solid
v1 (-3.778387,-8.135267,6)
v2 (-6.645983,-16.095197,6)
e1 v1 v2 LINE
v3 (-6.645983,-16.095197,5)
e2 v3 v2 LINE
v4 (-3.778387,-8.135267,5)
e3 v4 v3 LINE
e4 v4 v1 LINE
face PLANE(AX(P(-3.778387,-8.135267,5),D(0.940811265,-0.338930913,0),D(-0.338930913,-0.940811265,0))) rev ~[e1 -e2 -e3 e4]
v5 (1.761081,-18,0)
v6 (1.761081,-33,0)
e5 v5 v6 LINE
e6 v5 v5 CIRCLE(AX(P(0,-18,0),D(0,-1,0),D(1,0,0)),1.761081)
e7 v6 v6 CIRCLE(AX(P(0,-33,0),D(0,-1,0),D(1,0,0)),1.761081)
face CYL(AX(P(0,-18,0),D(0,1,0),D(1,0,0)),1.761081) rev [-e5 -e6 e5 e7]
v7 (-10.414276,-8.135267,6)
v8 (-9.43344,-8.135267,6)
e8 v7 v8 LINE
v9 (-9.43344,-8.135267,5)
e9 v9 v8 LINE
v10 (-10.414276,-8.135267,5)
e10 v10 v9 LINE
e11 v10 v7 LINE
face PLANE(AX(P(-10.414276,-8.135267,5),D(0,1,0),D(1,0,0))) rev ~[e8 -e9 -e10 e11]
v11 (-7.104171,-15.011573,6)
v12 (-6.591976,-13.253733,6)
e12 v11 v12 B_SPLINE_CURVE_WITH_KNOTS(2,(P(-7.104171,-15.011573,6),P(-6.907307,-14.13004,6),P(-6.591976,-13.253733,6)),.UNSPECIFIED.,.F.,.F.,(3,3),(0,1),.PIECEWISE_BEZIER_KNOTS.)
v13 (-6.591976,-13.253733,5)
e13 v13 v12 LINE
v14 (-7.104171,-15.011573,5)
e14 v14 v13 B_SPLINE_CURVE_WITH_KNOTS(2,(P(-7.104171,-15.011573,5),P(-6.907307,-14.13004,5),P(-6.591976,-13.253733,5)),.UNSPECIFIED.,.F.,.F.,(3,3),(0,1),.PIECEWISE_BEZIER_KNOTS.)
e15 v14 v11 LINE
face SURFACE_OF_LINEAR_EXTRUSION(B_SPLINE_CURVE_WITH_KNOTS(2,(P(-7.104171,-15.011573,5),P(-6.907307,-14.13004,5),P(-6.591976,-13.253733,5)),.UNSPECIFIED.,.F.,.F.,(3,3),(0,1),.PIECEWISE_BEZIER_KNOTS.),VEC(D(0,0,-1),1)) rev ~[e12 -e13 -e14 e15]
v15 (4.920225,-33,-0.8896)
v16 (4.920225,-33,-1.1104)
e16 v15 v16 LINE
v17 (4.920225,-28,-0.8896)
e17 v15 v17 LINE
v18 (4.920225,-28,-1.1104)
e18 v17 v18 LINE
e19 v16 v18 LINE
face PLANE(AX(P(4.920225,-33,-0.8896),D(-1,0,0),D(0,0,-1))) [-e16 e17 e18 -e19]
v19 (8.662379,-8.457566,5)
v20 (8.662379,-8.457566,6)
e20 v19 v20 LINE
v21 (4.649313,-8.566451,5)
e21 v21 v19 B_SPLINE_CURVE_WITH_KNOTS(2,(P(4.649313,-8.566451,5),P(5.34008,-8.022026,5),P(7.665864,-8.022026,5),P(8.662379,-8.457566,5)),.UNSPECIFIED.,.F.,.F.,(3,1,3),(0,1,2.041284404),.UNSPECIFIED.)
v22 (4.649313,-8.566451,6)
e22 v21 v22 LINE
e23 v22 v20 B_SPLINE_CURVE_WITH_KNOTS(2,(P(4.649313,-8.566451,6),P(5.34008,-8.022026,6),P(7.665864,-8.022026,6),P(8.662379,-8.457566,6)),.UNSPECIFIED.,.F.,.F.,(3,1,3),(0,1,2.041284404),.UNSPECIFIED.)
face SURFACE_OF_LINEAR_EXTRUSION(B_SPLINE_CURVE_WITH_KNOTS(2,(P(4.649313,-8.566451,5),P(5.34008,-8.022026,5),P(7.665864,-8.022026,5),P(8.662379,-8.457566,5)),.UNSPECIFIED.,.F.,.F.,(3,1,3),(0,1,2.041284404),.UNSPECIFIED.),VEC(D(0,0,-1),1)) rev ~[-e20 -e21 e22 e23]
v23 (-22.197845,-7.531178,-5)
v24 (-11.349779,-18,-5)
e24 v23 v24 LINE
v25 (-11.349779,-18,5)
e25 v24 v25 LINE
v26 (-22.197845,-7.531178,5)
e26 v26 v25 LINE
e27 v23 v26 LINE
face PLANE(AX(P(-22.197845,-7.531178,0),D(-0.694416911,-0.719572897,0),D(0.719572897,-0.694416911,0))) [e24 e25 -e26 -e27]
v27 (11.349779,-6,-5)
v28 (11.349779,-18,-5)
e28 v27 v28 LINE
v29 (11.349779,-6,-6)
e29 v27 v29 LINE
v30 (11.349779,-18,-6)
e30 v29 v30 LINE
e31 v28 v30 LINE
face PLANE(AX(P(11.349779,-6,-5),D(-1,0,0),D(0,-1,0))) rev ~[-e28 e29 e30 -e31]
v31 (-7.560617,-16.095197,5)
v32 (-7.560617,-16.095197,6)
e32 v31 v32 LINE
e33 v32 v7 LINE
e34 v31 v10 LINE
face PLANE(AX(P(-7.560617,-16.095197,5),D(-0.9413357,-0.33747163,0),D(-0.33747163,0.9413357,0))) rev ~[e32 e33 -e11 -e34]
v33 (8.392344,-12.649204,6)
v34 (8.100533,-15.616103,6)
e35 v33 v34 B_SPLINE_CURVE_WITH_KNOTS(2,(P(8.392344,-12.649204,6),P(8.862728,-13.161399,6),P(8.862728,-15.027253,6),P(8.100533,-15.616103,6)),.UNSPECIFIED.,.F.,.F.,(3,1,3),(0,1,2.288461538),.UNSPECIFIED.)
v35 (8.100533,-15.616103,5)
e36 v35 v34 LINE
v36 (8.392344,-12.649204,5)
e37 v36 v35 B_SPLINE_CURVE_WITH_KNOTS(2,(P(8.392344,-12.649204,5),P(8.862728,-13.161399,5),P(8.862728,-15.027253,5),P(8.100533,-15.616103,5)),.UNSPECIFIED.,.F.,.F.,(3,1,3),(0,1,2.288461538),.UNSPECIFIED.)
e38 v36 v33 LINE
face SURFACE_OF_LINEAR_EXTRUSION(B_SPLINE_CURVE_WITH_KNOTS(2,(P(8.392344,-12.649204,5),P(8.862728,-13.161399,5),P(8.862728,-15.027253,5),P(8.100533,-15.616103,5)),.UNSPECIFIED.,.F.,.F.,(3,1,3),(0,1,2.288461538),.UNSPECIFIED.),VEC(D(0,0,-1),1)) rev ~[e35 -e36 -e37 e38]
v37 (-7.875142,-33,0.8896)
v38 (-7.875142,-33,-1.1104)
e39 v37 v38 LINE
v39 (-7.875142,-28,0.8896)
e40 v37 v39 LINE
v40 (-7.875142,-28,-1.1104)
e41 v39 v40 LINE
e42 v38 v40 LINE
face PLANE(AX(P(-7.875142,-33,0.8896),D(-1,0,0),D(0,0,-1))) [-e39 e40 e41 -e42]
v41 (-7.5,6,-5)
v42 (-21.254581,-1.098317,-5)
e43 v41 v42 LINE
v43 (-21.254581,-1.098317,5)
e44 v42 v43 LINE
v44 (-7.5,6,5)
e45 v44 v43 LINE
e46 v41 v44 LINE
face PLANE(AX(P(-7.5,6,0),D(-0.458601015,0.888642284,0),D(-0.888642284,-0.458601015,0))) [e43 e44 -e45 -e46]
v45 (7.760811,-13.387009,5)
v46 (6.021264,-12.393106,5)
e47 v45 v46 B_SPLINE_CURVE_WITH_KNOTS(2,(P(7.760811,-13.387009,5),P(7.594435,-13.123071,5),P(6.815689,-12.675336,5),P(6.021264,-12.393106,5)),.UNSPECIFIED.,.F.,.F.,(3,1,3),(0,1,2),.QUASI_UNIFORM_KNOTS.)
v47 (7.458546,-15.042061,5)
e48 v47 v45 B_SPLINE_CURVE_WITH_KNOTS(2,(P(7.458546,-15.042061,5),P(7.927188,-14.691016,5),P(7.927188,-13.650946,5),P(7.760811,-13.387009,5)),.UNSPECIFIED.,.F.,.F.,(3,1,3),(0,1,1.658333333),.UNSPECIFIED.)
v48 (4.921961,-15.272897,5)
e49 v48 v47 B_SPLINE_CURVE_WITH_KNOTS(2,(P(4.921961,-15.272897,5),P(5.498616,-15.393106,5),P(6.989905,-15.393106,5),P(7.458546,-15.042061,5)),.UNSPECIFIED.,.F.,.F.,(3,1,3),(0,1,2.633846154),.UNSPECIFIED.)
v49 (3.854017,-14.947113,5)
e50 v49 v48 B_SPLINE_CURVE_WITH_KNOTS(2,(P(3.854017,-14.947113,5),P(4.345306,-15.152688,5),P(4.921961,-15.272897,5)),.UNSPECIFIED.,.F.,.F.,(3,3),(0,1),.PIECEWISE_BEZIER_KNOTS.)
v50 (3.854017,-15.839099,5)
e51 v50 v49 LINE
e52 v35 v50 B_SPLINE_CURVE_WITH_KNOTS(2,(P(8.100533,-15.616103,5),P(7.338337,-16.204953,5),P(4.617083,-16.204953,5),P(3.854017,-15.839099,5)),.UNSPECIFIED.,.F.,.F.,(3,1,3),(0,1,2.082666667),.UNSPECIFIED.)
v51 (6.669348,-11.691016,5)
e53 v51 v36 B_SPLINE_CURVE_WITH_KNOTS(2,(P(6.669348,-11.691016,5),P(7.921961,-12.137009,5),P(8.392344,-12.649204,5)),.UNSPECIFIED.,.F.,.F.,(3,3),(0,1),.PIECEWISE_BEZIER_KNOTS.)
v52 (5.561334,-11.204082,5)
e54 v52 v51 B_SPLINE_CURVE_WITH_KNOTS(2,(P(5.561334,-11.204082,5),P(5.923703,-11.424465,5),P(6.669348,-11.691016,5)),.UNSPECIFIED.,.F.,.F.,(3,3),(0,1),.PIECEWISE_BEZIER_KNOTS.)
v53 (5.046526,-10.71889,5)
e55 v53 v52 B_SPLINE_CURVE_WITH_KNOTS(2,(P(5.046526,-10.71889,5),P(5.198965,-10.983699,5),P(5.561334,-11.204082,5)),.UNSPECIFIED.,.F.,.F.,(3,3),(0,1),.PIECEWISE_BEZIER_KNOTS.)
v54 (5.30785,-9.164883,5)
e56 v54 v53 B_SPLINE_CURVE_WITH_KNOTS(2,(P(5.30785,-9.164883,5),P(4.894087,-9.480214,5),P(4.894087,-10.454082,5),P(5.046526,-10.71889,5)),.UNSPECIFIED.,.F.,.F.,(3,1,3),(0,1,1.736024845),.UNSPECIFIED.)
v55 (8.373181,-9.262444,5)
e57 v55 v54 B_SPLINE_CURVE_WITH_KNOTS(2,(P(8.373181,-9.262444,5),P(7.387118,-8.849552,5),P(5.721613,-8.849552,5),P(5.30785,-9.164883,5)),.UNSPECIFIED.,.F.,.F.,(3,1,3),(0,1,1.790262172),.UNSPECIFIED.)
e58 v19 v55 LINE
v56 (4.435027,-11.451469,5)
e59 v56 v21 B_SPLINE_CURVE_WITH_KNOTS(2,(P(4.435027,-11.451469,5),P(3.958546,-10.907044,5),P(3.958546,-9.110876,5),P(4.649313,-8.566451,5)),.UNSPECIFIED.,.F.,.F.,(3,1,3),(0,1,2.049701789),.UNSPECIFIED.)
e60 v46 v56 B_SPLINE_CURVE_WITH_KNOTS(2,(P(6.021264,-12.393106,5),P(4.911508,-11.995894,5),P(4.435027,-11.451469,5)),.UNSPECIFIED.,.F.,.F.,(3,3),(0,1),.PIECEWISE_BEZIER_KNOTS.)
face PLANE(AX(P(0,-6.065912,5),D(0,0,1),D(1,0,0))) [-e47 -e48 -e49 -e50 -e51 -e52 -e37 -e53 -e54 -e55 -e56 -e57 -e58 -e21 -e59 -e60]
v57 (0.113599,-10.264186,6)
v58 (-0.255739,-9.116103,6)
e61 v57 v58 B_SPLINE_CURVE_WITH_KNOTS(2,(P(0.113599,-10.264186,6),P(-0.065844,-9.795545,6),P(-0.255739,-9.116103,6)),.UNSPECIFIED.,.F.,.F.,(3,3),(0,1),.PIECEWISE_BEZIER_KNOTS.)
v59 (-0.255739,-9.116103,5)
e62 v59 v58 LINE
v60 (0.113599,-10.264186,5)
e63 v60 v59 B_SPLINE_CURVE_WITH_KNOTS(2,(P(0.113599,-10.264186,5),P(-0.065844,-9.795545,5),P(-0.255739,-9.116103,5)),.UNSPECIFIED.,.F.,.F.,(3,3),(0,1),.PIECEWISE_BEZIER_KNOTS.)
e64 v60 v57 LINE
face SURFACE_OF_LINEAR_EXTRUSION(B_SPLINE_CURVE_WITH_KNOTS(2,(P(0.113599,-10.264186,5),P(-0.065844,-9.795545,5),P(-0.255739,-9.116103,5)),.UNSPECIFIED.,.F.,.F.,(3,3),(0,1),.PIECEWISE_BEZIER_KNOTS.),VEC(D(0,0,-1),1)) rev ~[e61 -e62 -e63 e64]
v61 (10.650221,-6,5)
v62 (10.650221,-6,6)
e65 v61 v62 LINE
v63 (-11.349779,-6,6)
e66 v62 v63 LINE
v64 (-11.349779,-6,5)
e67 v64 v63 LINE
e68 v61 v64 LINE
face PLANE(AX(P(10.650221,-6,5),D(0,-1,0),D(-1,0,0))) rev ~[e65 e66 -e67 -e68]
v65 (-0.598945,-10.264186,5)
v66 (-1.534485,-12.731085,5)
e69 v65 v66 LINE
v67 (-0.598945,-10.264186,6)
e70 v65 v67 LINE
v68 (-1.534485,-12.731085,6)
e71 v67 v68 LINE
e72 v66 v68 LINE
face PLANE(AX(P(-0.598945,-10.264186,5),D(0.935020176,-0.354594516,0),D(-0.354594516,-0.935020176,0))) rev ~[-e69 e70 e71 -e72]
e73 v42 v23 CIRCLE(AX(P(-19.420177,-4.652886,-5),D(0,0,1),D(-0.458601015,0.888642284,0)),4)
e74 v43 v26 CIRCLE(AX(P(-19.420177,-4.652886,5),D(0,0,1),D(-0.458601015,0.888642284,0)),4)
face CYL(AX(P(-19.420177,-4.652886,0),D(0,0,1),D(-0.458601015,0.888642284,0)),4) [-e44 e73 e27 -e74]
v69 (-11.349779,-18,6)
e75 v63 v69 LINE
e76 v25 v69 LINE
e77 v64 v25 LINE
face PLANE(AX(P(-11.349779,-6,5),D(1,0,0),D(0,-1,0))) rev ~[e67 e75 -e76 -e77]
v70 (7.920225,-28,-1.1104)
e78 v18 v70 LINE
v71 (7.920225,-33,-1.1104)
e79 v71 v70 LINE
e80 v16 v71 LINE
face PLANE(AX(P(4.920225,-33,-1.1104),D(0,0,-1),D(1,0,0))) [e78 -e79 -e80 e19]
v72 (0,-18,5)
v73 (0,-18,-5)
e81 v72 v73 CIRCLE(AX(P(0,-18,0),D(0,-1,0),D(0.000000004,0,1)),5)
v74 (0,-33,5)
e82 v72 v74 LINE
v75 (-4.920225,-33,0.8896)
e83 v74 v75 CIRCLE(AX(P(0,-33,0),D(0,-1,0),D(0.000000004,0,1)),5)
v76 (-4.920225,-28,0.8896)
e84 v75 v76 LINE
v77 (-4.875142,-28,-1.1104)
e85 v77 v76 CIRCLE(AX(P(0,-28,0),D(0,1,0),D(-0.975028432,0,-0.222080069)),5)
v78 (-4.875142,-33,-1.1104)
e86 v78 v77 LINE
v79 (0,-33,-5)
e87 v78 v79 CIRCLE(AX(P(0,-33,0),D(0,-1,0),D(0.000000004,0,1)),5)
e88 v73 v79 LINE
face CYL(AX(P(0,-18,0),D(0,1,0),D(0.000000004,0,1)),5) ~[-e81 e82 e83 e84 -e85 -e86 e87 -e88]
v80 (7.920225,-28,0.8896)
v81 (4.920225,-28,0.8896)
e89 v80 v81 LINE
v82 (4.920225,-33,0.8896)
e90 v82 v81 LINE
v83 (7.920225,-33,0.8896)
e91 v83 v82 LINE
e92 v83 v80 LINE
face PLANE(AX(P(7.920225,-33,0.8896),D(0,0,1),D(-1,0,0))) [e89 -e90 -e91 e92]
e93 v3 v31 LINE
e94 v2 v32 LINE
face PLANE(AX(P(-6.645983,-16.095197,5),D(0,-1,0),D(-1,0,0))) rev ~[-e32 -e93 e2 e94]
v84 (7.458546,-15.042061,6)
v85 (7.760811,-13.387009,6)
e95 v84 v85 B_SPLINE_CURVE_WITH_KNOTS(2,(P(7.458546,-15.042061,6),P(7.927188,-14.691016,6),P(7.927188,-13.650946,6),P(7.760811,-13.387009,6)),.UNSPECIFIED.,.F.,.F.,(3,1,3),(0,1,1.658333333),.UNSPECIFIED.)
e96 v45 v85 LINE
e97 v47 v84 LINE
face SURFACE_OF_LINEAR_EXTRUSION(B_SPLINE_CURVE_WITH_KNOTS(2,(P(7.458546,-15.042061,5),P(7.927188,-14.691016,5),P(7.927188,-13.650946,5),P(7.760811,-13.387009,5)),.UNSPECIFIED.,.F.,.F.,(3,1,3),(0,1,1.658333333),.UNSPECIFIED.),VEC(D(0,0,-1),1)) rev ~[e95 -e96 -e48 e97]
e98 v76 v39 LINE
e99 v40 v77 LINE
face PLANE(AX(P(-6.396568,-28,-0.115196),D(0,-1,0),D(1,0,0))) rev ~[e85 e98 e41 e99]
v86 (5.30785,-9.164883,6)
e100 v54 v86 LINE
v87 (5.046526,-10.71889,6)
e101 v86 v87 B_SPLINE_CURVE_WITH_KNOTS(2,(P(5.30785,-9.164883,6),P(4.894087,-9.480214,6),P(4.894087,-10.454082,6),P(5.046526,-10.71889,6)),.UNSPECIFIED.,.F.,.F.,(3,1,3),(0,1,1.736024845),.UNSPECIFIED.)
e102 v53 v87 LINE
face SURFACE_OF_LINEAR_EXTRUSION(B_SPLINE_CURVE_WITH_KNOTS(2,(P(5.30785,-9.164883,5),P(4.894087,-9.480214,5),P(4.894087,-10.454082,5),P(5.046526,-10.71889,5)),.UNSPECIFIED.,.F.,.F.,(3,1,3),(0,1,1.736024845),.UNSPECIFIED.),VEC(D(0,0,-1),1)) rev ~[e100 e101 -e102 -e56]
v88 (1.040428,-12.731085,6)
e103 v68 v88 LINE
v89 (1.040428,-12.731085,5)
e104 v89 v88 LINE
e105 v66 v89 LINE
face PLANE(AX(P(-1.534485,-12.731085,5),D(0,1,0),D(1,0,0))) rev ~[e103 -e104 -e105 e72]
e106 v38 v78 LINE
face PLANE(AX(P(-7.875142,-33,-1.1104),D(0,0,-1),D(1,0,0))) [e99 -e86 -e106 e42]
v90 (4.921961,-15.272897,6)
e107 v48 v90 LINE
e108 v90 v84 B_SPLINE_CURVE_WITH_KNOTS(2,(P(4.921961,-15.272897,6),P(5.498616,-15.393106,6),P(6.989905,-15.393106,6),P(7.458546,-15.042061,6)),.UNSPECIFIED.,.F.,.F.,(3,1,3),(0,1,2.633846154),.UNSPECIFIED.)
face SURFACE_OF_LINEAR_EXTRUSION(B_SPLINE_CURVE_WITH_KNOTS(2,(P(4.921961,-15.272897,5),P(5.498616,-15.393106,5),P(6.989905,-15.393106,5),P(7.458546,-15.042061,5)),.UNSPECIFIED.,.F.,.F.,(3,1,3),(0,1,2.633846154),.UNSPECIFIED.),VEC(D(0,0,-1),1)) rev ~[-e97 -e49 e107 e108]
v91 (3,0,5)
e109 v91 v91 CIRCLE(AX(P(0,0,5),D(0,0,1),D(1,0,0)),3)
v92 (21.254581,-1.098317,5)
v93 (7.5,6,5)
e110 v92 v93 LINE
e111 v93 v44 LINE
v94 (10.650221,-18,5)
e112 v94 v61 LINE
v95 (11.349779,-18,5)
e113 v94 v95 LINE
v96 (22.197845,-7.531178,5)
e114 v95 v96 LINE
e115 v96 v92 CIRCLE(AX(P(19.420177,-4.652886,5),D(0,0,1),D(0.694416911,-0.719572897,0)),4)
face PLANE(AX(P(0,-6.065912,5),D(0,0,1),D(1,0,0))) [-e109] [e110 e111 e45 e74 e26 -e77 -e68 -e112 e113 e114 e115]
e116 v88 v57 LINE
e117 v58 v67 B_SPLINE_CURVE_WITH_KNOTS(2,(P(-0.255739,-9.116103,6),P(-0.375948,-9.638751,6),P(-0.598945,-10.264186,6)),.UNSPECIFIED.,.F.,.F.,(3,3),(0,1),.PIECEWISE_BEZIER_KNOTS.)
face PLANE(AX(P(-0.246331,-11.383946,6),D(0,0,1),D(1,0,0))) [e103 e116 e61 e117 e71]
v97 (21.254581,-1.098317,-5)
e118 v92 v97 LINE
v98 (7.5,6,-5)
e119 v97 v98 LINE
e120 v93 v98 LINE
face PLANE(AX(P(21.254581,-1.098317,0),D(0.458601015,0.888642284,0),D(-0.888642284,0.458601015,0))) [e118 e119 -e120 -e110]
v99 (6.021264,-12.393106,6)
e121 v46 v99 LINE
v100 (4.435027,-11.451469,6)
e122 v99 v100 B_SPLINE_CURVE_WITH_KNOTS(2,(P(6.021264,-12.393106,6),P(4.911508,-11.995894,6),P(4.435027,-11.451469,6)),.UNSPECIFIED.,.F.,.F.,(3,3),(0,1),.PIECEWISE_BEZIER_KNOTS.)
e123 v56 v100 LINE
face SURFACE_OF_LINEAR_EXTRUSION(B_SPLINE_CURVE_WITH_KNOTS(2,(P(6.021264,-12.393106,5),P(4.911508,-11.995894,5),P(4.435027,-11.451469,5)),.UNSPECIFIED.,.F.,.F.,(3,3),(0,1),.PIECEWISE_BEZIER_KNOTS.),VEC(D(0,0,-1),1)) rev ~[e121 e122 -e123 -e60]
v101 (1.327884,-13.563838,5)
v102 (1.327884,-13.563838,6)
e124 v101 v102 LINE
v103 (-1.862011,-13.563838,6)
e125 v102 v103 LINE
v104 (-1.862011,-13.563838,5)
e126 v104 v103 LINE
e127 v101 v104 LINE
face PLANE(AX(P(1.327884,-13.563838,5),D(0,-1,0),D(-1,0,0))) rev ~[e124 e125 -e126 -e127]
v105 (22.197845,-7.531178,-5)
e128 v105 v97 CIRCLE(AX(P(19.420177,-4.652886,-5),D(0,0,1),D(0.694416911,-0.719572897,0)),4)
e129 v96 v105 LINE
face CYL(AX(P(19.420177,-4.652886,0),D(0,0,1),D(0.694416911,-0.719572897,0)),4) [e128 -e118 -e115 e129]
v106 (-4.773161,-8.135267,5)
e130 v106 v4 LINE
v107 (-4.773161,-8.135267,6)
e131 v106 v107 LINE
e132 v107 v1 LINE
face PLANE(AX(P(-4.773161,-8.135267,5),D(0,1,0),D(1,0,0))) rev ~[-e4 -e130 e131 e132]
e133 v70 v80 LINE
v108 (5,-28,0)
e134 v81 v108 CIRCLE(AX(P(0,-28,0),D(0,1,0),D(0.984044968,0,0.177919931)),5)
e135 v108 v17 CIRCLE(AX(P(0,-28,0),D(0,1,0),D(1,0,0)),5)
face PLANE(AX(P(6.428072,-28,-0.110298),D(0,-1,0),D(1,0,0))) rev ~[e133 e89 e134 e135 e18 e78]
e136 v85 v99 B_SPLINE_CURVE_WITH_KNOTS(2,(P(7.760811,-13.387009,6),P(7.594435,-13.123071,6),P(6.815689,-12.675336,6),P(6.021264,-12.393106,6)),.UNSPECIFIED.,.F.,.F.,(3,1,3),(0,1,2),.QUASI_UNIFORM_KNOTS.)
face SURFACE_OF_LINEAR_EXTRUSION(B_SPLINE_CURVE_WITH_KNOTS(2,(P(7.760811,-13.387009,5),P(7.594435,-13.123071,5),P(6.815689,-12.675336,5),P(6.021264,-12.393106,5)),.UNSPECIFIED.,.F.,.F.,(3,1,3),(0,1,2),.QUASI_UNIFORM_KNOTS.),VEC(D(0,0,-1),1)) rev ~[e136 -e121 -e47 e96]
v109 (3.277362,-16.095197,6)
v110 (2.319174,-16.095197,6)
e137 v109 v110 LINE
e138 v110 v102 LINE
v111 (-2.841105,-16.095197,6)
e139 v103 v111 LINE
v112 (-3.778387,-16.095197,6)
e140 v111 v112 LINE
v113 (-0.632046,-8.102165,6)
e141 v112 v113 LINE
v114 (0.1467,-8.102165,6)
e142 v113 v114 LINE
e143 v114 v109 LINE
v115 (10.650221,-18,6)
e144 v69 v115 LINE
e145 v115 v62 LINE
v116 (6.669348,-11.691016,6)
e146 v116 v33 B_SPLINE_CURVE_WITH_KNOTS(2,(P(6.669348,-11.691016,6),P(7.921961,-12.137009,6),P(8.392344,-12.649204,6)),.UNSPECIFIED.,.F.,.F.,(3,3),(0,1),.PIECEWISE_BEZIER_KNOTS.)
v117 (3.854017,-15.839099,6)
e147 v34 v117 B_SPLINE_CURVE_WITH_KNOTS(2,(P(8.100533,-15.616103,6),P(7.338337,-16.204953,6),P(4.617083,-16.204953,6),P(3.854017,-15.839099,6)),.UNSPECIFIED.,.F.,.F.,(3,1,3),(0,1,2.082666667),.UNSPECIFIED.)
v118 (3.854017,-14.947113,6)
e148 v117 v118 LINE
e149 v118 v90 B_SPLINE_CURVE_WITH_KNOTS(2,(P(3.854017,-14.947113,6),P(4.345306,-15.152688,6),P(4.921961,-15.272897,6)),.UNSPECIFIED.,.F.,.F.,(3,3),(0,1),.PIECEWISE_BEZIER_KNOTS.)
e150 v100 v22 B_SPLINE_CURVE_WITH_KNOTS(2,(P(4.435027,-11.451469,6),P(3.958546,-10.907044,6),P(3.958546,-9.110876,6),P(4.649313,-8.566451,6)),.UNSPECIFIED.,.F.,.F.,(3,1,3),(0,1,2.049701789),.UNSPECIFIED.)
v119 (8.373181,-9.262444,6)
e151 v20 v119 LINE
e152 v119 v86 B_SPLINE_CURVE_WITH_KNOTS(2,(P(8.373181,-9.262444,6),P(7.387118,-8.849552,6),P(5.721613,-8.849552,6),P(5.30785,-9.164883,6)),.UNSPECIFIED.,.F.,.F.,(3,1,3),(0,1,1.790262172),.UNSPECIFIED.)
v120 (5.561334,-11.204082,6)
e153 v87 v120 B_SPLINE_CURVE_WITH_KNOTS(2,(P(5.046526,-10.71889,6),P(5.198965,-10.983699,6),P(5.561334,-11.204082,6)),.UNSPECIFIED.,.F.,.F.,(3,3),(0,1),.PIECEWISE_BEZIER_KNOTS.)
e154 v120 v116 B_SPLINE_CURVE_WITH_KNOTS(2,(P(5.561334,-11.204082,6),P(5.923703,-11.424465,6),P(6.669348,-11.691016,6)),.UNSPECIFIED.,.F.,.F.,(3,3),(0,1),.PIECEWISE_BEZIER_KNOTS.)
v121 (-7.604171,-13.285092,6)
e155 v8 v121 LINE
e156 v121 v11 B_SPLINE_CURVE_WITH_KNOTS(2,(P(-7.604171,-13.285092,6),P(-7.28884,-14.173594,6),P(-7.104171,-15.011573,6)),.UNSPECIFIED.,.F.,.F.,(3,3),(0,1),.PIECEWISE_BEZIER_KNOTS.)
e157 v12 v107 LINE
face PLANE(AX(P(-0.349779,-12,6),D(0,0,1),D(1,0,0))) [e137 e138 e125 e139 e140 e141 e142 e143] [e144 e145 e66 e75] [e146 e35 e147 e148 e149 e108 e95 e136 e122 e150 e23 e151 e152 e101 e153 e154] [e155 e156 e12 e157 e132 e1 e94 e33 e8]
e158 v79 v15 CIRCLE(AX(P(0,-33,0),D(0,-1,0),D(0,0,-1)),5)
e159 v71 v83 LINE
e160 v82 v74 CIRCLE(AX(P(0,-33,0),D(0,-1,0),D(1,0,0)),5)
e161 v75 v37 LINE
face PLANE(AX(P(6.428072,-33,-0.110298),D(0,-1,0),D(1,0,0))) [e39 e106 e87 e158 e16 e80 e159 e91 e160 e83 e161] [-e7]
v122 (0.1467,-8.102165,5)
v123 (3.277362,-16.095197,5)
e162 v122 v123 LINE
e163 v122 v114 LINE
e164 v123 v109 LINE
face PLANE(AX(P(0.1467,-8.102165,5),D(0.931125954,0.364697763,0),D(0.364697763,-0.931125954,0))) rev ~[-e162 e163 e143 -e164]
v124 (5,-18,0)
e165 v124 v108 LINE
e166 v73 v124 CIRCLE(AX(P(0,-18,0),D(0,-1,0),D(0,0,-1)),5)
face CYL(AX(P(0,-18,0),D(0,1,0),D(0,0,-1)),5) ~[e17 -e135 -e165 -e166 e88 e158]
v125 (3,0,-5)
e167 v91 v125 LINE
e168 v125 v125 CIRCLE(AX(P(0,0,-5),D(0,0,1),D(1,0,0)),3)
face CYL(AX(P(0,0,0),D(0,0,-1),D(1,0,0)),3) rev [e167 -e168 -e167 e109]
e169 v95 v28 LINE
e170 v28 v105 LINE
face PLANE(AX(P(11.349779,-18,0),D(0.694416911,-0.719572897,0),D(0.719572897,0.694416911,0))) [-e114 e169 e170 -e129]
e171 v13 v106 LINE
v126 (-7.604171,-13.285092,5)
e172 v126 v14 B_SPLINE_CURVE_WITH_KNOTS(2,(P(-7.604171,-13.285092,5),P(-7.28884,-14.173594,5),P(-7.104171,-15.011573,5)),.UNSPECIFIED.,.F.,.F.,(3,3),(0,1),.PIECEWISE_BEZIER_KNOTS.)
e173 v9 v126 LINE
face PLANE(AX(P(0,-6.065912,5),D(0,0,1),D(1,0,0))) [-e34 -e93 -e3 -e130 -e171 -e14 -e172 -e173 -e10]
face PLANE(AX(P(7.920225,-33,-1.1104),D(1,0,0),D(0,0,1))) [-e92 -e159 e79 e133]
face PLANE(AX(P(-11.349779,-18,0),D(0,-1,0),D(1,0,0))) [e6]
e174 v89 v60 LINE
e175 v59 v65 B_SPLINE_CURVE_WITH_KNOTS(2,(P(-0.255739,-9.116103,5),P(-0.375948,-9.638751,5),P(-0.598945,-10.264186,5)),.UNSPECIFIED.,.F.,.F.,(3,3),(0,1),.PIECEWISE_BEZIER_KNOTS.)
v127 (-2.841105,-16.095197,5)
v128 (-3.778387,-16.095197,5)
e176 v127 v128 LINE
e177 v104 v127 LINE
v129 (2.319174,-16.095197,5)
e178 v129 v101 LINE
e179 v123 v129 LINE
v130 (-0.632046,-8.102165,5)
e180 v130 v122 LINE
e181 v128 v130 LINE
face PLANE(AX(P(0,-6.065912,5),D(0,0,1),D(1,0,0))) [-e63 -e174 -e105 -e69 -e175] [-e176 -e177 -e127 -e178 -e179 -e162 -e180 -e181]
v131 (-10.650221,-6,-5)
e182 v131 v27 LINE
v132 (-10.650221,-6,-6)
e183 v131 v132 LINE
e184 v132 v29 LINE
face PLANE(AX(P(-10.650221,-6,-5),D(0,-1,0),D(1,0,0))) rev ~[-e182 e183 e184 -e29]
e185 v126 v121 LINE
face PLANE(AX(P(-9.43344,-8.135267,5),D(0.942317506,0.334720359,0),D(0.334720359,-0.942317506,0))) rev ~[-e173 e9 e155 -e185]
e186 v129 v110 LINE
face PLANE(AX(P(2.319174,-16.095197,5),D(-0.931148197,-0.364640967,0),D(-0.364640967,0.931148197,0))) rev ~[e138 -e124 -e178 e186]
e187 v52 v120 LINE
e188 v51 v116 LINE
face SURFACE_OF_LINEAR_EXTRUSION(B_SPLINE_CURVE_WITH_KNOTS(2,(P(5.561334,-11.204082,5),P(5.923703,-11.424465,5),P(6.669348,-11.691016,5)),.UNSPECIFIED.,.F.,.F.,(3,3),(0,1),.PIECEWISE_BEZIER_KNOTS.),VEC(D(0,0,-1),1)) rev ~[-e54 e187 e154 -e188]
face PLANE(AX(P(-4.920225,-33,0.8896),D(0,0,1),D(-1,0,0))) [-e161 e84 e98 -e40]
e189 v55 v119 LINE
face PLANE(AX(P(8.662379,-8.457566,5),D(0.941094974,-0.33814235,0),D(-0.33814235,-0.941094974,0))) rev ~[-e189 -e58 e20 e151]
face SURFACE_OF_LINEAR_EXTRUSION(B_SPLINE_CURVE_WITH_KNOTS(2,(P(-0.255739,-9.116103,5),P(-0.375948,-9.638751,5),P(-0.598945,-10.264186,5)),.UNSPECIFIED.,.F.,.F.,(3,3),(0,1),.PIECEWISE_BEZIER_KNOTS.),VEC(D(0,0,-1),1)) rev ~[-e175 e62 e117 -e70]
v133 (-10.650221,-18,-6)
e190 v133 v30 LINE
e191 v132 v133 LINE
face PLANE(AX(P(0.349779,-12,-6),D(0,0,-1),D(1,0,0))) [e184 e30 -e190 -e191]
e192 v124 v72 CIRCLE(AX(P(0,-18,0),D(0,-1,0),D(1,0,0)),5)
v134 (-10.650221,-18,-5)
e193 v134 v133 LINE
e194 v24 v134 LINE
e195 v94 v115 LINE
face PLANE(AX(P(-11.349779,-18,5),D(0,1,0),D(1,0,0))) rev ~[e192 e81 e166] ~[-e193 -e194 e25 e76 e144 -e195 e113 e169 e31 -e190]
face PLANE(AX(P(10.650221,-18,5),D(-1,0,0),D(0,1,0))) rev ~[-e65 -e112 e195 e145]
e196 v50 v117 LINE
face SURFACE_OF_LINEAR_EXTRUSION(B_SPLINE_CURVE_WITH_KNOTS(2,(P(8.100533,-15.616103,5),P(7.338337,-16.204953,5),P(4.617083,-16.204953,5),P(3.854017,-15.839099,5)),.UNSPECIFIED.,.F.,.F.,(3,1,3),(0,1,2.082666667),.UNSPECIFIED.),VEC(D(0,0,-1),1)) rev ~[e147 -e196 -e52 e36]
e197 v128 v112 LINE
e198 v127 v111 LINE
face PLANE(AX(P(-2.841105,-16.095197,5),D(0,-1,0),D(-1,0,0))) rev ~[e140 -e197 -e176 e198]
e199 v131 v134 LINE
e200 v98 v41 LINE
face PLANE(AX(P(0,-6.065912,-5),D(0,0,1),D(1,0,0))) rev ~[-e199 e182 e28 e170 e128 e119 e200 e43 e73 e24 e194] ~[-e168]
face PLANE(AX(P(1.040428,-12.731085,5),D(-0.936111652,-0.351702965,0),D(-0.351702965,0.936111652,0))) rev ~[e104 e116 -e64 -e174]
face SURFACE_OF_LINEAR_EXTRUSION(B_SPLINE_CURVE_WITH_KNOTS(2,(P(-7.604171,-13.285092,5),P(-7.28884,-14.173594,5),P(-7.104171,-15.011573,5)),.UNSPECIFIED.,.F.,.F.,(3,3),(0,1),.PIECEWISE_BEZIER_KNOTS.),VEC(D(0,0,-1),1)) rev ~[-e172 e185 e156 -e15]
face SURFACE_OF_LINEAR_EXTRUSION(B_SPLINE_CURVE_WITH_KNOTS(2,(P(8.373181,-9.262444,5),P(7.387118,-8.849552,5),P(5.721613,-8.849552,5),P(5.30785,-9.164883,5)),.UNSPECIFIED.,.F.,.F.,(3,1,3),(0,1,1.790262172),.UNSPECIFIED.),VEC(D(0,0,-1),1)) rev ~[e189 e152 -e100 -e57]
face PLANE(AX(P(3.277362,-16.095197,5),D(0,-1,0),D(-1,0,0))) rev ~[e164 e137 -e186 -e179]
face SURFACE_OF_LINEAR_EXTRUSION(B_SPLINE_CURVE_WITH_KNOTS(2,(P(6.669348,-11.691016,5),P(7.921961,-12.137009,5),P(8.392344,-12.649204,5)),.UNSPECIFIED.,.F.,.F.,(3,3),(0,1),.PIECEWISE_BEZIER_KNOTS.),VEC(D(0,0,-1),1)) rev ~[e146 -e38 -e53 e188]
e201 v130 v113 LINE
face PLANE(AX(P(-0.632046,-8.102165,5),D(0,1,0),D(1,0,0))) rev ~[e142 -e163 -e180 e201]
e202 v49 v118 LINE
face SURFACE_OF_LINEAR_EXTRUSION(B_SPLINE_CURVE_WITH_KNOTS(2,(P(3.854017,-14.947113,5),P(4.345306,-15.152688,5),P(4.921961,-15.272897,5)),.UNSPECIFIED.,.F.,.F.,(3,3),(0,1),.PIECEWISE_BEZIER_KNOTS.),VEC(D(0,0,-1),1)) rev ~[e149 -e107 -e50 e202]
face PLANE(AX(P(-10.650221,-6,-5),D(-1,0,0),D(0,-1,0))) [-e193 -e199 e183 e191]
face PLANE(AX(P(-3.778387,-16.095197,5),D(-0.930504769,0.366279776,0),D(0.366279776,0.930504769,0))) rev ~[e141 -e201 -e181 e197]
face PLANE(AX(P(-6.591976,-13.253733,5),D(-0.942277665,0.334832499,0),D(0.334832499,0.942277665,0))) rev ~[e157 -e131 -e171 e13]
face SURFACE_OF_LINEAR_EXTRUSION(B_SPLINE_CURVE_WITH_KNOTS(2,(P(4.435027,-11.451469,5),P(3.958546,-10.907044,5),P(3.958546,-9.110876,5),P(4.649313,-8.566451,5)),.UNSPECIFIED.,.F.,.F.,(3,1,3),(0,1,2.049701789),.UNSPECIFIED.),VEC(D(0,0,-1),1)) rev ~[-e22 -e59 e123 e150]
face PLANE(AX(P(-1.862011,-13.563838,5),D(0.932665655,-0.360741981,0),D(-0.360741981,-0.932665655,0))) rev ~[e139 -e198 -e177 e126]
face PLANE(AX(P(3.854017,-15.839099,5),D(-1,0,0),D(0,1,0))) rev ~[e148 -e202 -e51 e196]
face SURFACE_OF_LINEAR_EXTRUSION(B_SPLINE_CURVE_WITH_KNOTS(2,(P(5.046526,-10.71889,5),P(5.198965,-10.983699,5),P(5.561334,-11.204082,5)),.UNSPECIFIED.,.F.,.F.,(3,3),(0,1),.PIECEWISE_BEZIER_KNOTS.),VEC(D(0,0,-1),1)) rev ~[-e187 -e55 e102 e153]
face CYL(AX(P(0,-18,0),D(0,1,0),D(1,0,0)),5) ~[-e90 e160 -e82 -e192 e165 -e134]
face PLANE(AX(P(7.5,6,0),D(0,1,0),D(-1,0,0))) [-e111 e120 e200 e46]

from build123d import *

# Parameters (mm, degrees)
F0_R      = 3
F1_DEPTH  = 5
F2_R      = 1.7610809182
F3_DEPTH  = 15
F5_DEPTH  = 5
F6_W      = 22
F6_H      = 12
F7_DEPTH  = 1
F9_DEPTH  = 1
F10_DEPTH = 1


with BuildPart() as f1:
    # F0 (on Top) → F1 (new body, symmetric)
    with BuildSketch(Plane.XY):
        with BuildLine():
            Line((7.5, 6), (-7.5, 6))
            Line((-7.5, 6), (-21.2545811556, -1.0983172864))
            ThreePointArc((-21.2545811556, -1.0983172864), (-23.3778564167, -4.0725637723), (-22.1978447385, -7.5311780081))
            Line((-22.1978447385, -7.5311780081), (-11.3497786224, -18))
            Line((-11.3497786224, -18), (-5, -18))
            Line((-5, -18), (5, -18))
            Line((5, -18), (11.3497786224, -18))
            Line((11.3497786224, -18), (22.1978447385, -7.5311780081))
            ThreePointArc((22.1978447385, -7.5311780081), (23.3778564167, -4.0725637723), (21.2545811556, -1.0983172864))
            Line((21.2545811556, -1.0983172864), (7.5, 6))
        make_face()
        Circle(F0_R, mode=Mode.SUBTRACT)
    extrude(amount=F1_DEPTH, both=True)

    # F2 (on face) → F3 (join)
    with BuildSketch(Plane.XZ.offset(18)):
        with BuildLine():
            ThreePointArc((0, -5), (3.5355339059, -3.5355339059), (5, 0))
            ThreePointArc((5, 0), (3.5355339126, 3.5355338993), (1.89e-08, 5))
            ThreePointArc((1.89e-08, 5), (-5, 9.4e-09), (0, -5))
        make_face()
        Circle(F2_R, mode=Mode.SUBTRACT)
    extrude(amount=F3_DEPTH)

    # F4 (on face) → F5 (join)
    with BuildSketch(Plane.XZ.offset(33)):
        with BuildLine():
            Line((-7.8751421592, -1.1104003458), (-4.8751421592, -1.1104003458))
            ThreePointArc((-4.8751421592, -1.1104003458), (-4.9987302039, -0.1126780739), (-4.9202248379, 0.8895996542))
            Line((-4.9202248379, 0.8895996542), (-7.8751421592, 0.8895996542))
            Line((-7.8751421592, 0.8895996542), (-7.8751421592, -1.1104003458))
        make_face()
        with BuildLine():
            ThreePointArc((5, 0), (4.9800162745, -0.4465847123), (4.9202248379, -0.8895996542))
            Line((4.9202248379, -0.8895996542), (4.9202248379, -1.1104003458))
            Line((4.9202248379, -1.1104003458), (7.9202248379, -1.1104003458))
            Line((7.9202248379, -1.1104003458), (7.9202248379, 0.8895996542))
            Line((7.9202248379, 0.8895996542), (4.9202248379, 0.8895996542))
            ThreePointArc((4.9202248379, 0.8895996542), (4.9800162745, 0.4465847123), (5, 0))
        make_face()
    extrude(amount=-F5_DEPTH)

    # F6 (on face) → F7 (join)
    with BuildSketch(Plane(origin=(0, 0, -5), x_dir=(1, 0, 0), z_dir=(0, 0, -1))):
        with Locations((0.3497786224, 12)):
            Rectangle(F6_W, F6_H)
    extrude(amount=F7_DEPTH)

    # F8 (on face) → F9 (join)
    with BuildSketch(Plane.XY.offset(5)):
        Polygon((-11.3497786224, -6), (-11.3497786224, -18), (1.08e-08, -18), (10.6502213776, -18), (10.6502213776, -6), align=None)
        with BuildLine():
            Line((-6.5919761548, -13.2537334136), (-4.7731608238, -8.1352665147))
            Line((-4.7731608238, -8.1352665147), (-3.7783873047, -8.1352665147))
            Line((-3.7783873047, -8.1352665147), (-6.6459831235, -16.0951968282))
            Line((-6.6459831235, -16.0951968282), (-7.5606172698, -16.0951968282))
            Line((-7.5606172698, -16.0951968282), (-10.4142758064, -8.1352665147))
            Line((-10.4142758064, -8.1352665147), (-9.4334395695, -8.1352665147))
            Line((-9.4334395695, -8.1352665147), (-7.6041712768, -13.2850922986))
            add(Edge.make_bspline(
                [(-7.6041712768, -13.2850922986), (-7.2888402663, -14.1735940408), (-7.1041712768, -15.0115731349)],
                knots=[0, 0, 0, 1, 1, 1], degree=2))
            add(Edge.make_bspline(
                [(-7.1041712768, -15.0115731349), (-6.9073071653, -14.1300400338), (-6.5919761548, -13.2537334136)],
                knots=[0, 0, 0, 1, 1, 1], degree=2))
        make_face(mode=Mode.SUBTRACT)
        Polygon((3.2773618243, -16.0951968282), (2.319173671, -16.0951968282), (1.3278844723, -13.5638379432), (-1.862010998, -13.5638379432), (-2.8411050747, -16.0951968282), (-3.7783873047, -16.0951968282), (-0.6320458412, -8.1021654694), (0.1466998034, -8.1021654694), align=None, mode=Mode.SUBTRACT)
        with BuildLine():
            add(Edge.make_bspline(
                [(8.3923444027, -12.6492037969), (8.8627276779, -13.1613989188), (8.8627276779, -13.9767299293)],
                knots=[0, 0, 0, 1, 1, 1], degree=2))
            add(Edge.make_bspline(
                [(8.8627276779, -13.9767299293), (8.8627276779, -15.0272525774), (8.100532556, -15.6161027516)],
                knots=[0, 0, 0, 1, 1, 1], degree=2))
            add(Edge.make_bspline(
                [(8.100532556, -15.6161027516), (7.338337434, -16.2049529258), (6.031717225, -16.2049529258)],
                knots=[0, 0, 0, 1, 1, 1], degree=2))
            add(Edge.make_bspline(
                [(6.031717225, -16.2049529258), (4.6170830786, -16.2049529258), (3.8540168765, -15.8390992673)],
                knots=[0, 0, 0, 1, 1, 1], degree=2))
            Line((3.8540168765, -15.8390992673), (3.8540168765, -14.9471132046))
            add(Edge.make_bspline(
                [(3.8540168765, -14.9471132046), (4.3453060751, -15.1526881174), (4.9219611274, -15.2728971767)],
                knots=[0, 0, 0, 1, 1, 1], degree=2))
            add(Edge.make_bspline(
                [(4.9219611274, -15.2728971767), (5.4986161797, -15.3931062359), (6.0648182703, -15.3931062359)],
                knots=[0, 0, 0, 1, 1, 1], degree=2))
            add(Edge.make_bspline(
                [(6.0648182703, -15.3931062359), (6.9899053783, -15.3931062359), (7.4585464933, -15.0420609397)],
                knots=[0, 0, 0, 1, 1, 1], degree=2))
            add(Edge.make_bspline(
                [(7.4585464933, -15.0420609397), (7.9271876082, -14.6910156436), (7.9271876082, -14.0638379432)],
                knots=[0, 0, 0, 1, 1, 1], degree=2))
            add(Edge.make_bspline(
                [(7.9271876082, -14.0638379432), (7.9271876082, -13.6509459572), (7.7608113016, -13.3870086749)],
                knots=[0, 0, 0, 1, 1, 1], degree=2))
            add(Edge.make_bspline(
                [(7.7608113016, -13.3870086749), (7.594434995, -13.1230713927), (7.2050621727, -12.8992037969)],
                knots=[0, 0, 0, 1, 1, 1], degree=2))
            add(Edge.make_bspline(
                [(7.2050621727, -12.8992037969), (6.8156893504, -12.6753362011), (6.0212642633, -12.3931062359)],
                knots=[0, 0, 0, 1, 1, 1], degree=2))
            add(Edge.make_bspline(
                [(6.0212642633, -12.3931062359), (4.9115081657, -11.9958936924), (4.4350273295, -11.4514686052)],
                knots=[0, 0, 0, 1, 1, 1], degree=2))
            add(Edge.make_bspline(
                [(4.4350273295, -11.4514686052), (3.9585464933, -10.9070435181), (3.9585464933, -10.0307368979)],
                knots=[0, 0, 0, 1, 1, 1], degree=2))
            add(Edge.make_bspline(
                [(3.9585464933, -10.0307368979), (3.9585464933, -9.1108762708), (4.6493130438, -8.5664511836)],
                knots=[0, 0, 0, 1, 1, 1], degree=2))
            add(Edge.make_bspline(
                [(4.6493130438, -8.5664511836), (5.3400795943, -8.0220260965), (6.4794524166, -8.0220260965)],
                knots=[0, 0, 0, 1, 1, 1], degree=2))
            add(Edge.make_bspline(
                [(6.4794524166, -8.0220260965), (7.6658635664, -8.0220260965), (8.6623792459, -8.4575661662)],
                knots=[0, 0, 0, 1, 1, 1], degree=2))
            Line((8.6623792459, -8.4575661662), (8.3731806396, -9.262444215))
            add(Edge.make_bspline(
                [(8.3731806396, -9.262444215), (7.3871179218, -8.8495522289), (6.456804333, -8.8495522289)],
                knots=[0, 0, 0, 1, 1, 1], degree=2))
            add(Edge.make_bspline(
                [(6.456804333, -8.8495522289), (5.7216126953, -8.8495522289), (5.3078496291, -9.1648832394)],
                knots=[0, 0, 0, 1, 1, 1], degree=2))
            add(Edge.make_bspline(
                [(5.3078496291, -9.1648832394), (4.8940865629, -9.4802142498), (4.8940865629, -10.0411898596)],
                knots=[0, 0, 0, 1, 1, 1], degree=2))
            add(Edge.make_bspline(
                [(4.8940865629, -10.0411898596), (4.8940865629, -10.4540818457), (5.0465255873, -10.718890208)],
                knots=[0, 0, 0, 1, 1, 1], degree=2))
            add(Edge.make_bspline(
                [(5.0465255873, -10.718890208), (5.1989646117, -10.9836985704), (5.5613339497, -11.2040818457)],
                knots=[0, 0, 0, 1, 1, 1], degree=2))
            add(Edge.make_bspline(
                [(5.5613339497, -11.2040818457), (5.9237032877, -11.4244651209), (6.669347887, -11.6910156436)],
                knots=[0, 0, 0, 1, 1, 1], degree=2))
            add(Edge.make_bspline(
                [(6.669347887, -11.6910156436), (7.9219611274, -12.1370086749), (8.3923444027, -12.6492037969)],
                knots=[0, 0, 0, 1, 1, 1], degree=2))
        make_face(mode=Mode.SUBTRACT)
    extrude(amount=F9_DEPTH)

    # F8 (on face) → F10 (join)
    with BuildSketch(Plane.XY.offset(5)):
        with BuildLine():
            Line((-1.5344848656, -12.73108533), (1.0404280264, -12.73108533))
            Line((1.0404280264, -12.73108533), (0.1135987581, -10.2641863753))
            add(Edge.make_bspline(
                [(0.1135987581, -10.2641863753), (-0.0658437506, -9.7955452603), (-0.255739221, -9.1161027516)],
                knots=[0, 0, 0, 1, 1, 1], degree=2))
            add(Edge.make_bspline(
                [(-0.255739221, -9.1161027516), (-0.3759482803, -9.6387508352), (-0.5989447959, -10.2641863753)],
                knots=[0, 0, 0, 1, 1, 1], degree=2))
            Line((-0.5989447959, -10.2641863753), (-1.5344848656, -12.73108533))
        make_face()
    extrude(amount=F10_DEPTH)


solid = f1.part
